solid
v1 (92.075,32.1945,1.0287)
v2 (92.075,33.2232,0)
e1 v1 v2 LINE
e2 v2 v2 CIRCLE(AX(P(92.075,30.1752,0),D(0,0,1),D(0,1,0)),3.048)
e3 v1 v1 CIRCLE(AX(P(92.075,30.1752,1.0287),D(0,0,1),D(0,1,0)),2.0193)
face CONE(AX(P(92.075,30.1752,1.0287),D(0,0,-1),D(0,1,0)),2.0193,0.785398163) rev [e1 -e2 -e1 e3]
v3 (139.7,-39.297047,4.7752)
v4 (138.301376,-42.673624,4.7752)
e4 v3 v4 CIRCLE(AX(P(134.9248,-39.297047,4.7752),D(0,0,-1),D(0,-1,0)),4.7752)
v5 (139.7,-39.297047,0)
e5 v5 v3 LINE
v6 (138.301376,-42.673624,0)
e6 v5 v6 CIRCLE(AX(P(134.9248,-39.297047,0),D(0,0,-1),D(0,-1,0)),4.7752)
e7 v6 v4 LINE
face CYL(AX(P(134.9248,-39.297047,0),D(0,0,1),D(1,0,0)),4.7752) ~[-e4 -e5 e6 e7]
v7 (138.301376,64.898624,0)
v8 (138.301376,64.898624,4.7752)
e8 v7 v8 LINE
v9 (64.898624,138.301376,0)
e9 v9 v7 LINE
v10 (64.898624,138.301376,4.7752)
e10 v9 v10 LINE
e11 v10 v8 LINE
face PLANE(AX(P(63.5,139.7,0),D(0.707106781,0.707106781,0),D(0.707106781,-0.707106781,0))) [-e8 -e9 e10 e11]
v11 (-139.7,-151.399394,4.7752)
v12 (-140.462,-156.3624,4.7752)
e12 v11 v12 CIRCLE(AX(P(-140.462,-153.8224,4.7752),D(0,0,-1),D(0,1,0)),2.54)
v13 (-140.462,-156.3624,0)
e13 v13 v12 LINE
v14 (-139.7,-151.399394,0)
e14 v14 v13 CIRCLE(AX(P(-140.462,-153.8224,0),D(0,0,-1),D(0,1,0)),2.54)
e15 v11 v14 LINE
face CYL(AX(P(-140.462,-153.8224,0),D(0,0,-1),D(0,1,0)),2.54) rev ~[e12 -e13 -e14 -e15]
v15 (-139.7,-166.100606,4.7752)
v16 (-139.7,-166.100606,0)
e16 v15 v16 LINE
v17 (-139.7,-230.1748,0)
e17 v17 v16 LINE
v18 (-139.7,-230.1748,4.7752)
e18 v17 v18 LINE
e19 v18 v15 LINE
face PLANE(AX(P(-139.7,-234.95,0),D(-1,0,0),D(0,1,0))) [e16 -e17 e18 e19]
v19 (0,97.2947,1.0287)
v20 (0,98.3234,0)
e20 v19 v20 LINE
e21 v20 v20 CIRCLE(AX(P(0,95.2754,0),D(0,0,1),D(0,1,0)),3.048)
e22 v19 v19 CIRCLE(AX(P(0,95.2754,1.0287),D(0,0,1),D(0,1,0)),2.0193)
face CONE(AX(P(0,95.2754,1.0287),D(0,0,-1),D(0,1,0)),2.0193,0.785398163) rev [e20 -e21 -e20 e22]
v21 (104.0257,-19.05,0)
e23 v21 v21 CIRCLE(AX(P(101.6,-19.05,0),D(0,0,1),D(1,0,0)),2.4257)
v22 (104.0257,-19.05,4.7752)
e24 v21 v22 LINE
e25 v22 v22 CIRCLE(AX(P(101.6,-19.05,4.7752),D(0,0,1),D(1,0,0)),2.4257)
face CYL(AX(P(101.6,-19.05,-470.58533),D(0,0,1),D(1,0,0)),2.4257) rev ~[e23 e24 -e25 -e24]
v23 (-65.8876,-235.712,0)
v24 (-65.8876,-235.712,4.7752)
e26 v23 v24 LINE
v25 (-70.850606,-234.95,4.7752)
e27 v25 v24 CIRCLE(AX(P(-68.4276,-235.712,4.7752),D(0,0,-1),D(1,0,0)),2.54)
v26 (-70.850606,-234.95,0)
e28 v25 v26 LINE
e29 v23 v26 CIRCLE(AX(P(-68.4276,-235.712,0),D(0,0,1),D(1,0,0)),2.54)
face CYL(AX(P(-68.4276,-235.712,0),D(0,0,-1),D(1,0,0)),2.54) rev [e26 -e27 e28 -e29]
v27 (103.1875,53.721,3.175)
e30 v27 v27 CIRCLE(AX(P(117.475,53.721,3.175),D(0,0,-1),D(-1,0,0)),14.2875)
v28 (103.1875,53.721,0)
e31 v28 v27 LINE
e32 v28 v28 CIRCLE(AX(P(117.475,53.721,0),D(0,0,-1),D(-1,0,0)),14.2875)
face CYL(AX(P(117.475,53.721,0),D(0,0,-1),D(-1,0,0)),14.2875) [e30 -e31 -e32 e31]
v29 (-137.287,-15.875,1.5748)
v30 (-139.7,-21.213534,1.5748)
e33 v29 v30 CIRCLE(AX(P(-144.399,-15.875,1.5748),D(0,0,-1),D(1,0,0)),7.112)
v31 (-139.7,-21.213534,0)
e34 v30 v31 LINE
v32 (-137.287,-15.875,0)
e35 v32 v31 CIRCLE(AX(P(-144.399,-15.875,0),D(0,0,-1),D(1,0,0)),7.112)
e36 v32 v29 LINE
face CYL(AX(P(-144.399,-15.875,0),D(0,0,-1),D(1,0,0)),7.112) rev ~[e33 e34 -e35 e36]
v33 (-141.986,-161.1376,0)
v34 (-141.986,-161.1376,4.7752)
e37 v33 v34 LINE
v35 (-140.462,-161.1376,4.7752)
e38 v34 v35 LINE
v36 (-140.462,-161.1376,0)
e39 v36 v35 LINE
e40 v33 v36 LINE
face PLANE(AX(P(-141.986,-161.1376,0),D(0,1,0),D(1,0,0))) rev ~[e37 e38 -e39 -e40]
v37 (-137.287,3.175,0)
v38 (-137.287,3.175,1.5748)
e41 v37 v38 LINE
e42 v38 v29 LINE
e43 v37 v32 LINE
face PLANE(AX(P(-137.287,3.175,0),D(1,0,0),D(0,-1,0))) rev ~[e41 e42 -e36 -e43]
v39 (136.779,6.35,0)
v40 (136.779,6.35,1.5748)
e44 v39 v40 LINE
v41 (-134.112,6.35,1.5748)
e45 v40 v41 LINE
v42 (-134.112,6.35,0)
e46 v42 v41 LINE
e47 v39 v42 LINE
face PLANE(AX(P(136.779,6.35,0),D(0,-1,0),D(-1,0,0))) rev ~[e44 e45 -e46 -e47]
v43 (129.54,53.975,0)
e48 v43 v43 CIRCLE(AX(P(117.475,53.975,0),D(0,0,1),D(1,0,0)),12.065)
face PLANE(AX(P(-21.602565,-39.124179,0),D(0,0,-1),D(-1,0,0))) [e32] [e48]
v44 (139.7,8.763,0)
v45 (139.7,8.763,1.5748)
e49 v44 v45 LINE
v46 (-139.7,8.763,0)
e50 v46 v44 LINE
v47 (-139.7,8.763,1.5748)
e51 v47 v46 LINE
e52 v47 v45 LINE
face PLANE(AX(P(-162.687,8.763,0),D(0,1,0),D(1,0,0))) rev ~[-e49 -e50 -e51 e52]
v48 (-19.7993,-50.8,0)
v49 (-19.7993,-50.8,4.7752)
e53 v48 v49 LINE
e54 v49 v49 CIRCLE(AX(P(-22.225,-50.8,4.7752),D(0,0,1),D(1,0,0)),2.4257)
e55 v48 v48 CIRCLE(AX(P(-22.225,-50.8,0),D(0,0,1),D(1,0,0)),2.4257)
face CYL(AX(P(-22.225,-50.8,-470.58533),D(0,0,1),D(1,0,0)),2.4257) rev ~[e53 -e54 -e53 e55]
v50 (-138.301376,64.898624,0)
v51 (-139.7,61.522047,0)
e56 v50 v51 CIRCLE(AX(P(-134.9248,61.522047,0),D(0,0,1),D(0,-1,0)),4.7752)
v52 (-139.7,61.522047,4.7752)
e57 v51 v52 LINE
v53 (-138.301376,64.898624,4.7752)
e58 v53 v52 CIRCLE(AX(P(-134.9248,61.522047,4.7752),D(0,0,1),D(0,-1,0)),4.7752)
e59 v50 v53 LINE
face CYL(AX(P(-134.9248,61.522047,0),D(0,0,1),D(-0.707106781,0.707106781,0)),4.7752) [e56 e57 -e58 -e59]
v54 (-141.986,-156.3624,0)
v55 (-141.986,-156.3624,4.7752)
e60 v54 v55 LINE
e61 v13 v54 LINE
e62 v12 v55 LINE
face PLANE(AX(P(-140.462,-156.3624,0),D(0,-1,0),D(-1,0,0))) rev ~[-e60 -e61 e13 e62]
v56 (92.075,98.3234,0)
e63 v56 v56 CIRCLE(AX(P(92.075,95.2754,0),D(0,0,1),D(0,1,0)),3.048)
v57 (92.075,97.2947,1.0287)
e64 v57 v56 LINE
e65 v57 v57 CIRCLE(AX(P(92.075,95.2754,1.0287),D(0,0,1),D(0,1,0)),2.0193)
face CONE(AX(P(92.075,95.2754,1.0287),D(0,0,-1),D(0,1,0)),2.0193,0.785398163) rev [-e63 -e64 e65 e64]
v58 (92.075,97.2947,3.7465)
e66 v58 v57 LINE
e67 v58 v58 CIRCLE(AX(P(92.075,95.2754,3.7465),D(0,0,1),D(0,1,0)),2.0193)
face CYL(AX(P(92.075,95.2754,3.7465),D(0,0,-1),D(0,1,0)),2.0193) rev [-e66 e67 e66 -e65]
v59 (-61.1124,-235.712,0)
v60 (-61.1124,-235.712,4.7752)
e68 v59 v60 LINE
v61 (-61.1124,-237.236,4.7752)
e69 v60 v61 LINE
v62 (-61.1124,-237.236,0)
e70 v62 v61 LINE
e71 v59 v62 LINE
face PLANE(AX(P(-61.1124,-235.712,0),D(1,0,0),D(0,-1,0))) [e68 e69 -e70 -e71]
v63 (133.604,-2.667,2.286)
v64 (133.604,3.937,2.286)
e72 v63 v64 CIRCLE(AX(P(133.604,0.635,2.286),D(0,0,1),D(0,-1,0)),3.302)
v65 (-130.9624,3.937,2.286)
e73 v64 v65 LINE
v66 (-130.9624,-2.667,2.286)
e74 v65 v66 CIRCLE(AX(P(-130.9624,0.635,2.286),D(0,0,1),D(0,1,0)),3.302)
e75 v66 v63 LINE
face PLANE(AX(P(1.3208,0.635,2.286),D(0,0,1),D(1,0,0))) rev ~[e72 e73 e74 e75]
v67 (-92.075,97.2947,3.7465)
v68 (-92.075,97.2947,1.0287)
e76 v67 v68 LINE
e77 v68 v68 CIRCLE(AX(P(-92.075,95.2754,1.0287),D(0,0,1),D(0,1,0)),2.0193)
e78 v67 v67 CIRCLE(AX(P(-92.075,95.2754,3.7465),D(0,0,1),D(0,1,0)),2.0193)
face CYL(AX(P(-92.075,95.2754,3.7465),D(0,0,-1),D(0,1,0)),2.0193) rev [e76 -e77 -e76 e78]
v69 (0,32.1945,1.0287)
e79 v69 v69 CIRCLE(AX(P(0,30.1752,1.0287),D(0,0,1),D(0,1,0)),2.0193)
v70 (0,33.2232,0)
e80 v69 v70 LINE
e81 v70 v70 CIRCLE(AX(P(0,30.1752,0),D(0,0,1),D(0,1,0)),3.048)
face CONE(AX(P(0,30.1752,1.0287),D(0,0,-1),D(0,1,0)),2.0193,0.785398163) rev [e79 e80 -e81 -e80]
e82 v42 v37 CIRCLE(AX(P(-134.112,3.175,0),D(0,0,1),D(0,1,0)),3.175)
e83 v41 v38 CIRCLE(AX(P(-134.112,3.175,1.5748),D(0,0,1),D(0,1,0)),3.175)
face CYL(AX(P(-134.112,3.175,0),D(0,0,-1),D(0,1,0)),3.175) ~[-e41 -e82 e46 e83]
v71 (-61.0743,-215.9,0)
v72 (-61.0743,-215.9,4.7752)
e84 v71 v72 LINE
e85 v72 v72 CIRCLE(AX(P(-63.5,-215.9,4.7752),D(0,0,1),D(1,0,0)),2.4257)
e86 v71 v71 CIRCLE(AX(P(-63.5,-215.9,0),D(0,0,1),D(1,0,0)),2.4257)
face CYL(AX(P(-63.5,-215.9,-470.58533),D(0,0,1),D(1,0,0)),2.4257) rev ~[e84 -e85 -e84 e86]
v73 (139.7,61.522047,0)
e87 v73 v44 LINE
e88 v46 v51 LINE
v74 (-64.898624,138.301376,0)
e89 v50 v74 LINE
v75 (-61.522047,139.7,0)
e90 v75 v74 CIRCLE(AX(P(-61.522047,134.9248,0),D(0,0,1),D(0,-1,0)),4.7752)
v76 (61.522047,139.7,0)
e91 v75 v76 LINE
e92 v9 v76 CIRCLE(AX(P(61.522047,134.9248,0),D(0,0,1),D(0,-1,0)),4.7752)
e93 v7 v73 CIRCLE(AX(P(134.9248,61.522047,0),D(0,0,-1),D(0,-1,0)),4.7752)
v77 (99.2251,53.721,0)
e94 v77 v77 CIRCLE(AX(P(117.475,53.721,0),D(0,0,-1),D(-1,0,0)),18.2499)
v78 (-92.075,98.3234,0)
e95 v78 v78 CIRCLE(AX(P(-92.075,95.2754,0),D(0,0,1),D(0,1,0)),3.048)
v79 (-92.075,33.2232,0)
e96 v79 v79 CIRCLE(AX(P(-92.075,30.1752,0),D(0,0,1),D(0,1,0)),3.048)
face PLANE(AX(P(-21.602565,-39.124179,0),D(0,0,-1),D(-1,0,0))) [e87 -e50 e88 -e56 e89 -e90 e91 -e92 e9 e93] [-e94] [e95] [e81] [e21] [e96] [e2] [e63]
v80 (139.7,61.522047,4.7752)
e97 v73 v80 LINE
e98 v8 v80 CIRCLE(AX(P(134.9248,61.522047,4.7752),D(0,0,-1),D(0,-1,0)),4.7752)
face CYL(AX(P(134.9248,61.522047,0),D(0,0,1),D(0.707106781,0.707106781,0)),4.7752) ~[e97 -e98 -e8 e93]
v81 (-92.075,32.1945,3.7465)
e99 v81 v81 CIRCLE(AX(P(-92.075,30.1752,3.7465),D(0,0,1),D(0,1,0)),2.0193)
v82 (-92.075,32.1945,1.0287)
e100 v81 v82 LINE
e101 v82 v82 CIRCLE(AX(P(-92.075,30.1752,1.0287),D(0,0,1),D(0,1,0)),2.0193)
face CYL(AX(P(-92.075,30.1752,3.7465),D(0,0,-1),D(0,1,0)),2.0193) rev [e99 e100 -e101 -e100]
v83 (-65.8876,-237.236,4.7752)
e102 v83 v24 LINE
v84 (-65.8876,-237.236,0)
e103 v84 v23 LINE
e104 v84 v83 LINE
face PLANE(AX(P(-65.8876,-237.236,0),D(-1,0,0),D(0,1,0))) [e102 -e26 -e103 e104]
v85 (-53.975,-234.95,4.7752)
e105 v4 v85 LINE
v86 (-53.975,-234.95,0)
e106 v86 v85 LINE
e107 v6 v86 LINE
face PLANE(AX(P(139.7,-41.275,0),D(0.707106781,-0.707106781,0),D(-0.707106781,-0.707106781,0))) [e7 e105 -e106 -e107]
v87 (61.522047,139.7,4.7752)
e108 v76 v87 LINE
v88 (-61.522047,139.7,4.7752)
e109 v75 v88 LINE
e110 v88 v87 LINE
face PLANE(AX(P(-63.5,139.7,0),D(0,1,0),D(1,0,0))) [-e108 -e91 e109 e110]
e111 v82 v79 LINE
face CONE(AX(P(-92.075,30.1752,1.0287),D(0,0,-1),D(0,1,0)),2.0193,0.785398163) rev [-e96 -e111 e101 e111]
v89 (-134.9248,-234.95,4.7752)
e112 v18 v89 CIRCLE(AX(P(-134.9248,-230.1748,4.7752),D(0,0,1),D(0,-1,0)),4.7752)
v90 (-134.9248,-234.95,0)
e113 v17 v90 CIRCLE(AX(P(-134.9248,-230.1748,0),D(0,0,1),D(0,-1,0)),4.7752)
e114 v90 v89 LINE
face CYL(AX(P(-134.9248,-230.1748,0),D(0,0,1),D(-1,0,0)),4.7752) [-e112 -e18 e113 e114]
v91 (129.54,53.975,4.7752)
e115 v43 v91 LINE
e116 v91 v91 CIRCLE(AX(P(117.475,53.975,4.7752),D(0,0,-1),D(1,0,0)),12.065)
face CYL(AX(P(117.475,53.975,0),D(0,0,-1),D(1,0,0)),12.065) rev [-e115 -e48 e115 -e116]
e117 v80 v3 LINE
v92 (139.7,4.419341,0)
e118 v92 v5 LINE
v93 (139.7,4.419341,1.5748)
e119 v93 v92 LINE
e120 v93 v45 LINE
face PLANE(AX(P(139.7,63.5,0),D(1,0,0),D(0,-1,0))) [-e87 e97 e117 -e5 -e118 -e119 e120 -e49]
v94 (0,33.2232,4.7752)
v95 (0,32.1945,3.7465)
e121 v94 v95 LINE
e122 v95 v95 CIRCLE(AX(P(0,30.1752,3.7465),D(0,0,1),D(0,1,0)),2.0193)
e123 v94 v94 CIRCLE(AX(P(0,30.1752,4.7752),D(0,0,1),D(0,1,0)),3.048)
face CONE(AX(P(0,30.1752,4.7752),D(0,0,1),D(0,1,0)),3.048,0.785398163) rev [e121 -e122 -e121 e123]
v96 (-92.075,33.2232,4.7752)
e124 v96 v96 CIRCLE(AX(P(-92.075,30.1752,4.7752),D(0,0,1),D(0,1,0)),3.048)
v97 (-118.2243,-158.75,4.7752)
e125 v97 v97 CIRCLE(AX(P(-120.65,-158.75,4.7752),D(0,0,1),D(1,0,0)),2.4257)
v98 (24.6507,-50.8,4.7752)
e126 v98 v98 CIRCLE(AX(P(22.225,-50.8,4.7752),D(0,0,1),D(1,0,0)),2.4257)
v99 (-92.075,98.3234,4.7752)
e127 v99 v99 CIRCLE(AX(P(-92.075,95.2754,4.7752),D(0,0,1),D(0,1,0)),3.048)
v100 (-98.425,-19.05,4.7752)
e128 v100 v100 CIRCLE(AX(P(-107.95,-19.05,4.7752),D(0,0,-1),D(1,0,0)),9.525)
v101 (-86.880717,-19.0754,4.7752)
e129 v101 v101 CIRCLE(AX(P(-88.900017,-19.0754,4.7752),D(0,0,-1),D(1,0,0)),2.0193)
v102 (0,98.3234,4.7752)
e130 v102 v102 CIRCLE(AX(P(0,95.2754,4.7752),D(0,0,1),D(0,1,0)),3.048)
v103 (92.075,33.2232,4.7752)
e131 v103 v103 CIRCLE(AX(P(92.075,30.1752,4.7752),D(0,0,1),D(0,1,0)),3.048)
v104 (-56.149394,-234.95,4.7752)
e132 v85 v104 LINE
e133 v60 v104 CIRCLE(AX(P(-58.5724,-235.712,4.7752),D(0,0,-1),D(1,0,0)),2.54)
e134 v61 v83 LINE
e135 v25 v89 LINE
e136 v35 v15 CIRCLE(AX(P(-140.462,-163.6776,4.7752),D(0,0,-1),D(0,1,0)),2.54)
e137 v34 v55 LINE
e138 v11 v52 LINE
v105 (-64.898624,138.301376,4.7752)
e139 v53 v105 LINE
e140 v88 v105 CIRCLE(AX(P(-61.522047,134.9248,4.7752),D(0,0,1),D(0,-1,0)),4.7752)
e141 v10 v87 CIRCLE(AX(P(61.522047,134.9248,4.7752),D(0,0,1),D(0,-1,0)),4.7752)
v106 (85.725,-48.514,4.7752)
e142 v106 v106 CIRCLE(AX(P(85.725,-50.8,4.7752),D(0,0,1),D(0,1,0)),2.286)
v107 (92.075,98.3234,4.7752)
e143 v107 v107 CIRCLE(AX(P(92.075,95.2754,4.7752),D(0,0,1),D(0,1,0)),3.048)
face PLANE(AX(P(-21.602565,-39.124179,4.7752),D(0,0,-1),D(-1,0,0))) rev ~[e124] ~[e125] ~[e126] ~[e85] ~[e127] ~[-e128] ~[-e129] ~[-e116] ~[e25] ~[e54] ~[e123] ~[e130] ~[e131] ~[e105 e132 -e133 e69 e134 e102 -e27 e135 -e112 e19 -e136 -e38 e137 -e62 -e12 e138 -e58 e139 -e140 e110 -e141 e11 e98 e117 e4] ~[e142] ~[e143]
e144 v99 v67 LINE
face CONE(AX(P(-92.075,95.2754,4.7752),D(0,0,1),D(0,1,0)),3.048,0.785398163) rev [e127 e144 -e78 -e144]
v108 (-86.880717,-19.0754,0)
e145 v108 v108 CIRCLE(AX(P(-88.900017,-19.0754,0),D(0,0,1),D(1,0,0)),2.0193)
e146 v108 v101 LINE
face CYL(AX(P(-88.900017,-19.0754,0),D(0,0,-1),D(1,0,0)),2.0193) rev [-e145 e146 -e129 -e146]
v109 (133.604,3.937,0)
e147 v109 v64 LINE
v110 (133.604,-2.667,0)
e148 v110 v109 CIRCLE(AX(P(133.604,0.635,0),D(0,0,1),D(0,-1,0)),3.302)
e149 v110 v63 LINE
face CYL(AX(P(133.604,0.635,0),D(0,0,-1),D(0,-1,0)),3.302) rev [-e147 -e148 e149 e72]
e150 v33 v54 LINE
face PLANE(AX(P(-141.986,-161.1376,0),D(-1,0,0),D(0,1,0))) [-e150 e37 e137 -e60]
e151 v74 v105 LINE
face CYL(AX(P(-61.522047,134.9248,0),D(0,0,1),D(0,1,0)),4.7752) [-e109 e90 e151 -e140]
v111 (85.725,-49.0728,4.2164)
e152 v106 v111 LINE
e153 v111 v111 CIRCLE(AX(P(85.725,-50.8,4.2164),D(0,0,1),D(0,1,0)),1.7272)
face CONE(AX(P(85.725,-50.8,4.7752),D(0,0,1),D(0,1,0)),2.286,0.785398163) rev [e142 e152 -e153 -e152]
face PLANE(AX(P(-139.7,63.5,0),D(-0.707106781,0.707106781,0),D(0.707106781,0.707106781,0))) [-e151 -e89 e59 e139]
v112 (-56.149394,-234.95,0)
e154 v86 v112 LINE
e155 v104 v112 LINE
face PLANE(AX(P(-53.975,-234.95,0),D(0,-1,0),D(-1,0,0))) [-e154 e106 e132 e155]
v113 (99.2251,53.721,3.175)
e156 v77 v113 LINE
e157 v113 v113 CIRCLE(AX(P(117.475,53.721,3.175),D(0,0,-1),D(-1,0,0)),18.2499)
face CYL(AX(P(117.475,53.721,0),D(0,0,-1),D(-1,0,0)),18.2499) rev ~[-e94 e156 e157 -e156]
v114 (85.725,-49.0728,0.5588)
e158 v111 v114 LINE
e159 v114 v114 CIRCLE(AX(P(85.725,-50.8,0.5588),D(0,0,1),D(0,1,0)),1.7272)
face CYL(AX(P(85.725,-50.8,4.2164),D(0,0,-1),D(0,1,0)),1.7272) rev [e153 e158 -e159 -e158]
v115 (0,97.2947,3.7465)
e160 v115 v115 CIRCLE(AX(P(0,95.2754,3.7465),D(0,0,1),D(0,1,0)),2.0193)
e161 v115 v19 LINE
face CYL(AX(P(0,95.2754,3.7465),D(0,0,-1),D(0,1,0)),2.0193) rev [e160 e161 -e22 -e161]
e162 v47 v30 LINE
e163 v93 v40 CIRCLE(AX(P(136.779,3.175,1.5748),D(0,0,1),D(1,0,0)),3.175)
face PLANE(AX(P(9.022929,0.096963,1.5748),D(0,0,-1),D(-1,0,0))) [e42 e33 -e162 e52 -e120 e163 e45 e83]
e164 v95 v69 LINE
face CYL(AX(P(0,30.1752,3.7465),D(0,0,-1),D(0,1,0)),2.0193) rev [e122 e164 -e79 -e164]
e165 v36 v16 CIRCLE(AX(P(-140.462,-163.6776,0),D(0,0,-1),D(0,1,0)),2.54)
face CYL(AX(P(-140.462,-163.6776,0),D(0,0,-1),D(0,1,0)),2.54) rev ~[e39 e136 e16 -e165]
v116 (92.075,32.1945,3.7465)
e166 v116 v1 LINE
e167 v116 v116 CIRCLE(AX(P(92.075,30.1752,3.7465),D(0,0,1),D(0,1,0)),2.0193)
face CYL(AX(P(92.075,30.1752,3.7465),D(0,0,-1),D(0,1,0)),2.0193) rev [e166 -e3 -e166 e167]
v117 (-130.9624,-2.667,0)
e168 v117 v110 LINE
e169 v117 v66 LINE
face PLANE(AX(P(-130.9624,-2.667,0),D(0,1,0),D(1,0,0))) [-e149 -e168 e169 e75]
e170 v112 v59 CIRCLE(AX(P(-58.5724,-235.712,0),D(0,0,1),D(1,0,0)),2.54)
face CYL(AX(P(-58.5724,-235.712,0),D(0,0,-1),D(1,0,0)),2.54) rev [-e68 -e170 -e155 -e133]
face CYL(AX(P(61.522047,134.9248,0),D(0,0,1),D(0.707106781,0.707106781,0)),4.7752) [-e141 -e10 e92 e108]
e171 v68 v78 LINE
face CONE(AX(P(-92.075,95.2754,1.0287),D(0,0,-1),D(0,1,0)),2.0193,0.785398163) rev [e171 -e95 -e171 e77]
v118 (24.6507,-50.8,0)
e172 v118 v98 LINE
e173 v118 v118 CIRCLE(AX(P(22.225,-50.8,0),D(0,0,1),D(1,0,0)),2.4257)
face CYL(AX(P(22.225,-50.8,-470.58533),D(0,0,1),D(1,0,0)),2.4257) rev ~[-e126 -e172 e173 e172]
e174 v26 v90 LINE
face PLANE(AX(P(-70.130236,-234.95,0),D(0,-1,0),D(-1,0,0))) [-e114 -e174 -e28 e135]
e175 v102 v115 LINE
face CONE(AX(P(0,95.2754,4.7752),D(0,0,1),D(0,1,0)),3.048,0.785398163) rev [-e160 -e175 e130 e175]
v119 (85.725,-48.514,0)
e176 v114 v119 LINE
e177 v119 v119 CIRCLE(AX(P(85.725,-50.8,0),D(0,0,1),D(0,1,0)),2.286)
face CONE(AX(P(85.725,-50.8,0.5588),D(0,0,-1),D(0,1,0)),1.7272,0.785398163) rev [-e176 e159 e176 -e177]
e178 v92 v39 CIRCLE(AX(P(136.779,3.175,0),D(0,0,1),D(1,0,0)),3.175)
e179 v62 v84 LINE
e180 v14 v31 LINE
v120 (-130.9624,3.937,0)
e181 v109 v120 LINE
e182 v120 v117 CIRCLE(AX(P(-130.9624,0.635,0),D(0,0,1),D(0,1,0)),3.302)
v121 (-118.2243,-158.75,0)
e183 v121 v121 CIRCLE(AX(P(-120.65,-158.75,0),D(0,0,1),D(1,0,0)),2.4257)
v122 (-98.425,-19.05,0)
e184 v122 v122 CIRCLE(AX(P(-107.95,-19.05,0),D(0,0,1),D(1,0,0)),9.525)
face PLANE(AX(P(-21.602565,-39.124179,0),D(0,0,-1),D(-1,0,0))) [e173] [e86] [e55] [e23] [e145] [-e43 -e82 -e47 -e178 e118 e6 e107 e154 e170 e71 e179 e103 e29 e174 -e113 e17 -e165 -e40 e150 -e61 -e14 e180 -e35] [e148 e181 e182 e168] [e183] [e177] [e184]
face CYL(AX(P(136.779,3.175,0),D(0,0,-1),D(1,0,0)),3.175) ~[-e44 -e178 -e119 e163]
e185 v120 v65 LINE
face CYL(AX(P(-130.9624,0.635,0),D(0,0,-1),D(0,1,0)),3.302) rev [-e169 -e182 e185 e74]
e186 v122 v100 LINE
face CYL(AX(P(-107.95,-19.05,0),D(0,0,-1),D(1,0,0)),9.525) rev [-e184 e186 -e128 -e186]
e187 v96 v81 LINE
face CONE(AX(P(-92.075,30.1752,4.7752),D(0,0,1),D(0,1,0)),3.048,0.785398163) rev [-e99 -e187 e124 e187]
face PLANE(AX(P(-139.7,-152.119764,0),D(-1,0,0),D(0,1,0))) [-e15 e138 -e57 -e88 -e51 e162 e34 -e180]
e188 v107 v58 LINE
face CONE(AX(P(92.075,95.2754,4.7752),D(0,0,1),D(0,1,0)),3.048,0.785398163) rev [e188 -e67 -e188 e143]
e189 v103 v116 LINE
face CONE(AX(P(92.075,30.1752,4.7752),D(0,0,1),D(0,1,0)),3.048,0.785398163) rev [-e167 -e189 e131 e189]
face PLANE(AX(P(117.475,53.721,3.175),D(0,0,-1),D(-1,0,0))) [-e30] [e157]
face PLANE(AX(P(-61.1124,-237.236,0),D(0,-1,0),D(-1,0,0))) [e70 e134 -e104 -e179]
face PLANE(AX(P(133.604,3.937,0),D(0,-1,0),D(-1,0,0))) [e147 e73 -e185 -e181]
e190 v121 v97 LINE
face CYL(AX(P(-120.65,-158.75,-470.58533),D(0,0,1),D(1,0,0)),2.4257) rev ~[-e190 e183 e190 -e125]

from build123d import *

# Parameters (mm, degrees)
BOSS_EXTRUDE1_DEPTH             = 4.7752
SKETCH5_R                       = 12.065
CE_00_TUBE_HOLE_DEPTH           = 277.520788418
F_10_32_TAPPED_HOLE1_AT_2_COUNT = 2
F_10_32_TAPPED_HOLE1_AT_2_PITCH = 65.1002
F_10_32_TAPPED_HOLE1_AT_3_COUNT = 2
F_10_32_TAPPED_HOLE1_AT_3_PITCH = 92.075
F_10_32_TAPPED_HOLE1_AT_4_COUNT = 2
F_10_32_TAPPED_HOLE1_AT_4_PITCH = 112.764540814
F_10_32_TAPPED_HOLE1_AT_5_COUNT = 2
F_10_32_TAPPED_HOLE1_AT_5_PITCH = 184.15
F_10_32_TAPPED_HOLE1_AT_6_COUNT = 2
F_10_32_TAPPED_HOLE1_AT_6_PITCH = 195.318351775
F_11_0_191_DIAMETER_HOLE1_D     = 4.8514
F_11_0_191_DIAMETER_HOLE2_D     = 4.8514
CE_00_SHELF_GROOVE_DEPTH        = 1.5748
CE_00_RELIEF_GROOVE_DEPTH       = 2.286
SKETCH18_R                      = 18.2499
SKETCH18_R_2                    = 14.2875
CE_00_TUBE_GASKET_GROOVE_DEPTH  = 3.175
CE_00_TABE_FEATURES_DEPTH       = 277.520788418
FILLET1_R                       = 4.7752
SKETCH22_R                      = 9.525
SKETCH22_R_2                    = 2.0193
CUT_EXTRUDE1_DEPTH              = 277.520788418


with BuildPart() as part:
    # Sketch1 → Boss-Extrude1 (new body)
    with BuildSketch(Plane.XY):
        with BuildLine():
            Line((63.5, 139.7), (139.7, 63.5))
            Line((139.7, 63.5), (139.7, -41.275))
            Line((139.7, -41.275), (-53.975, -234.95))
            Line((-53.975, -234.95), (-56.869763556, -234.95))
            ThreePointArc((-56.869763556, -234.95), (-59.279419133, -235.557868517), (-61.1124, -237.236))
            Line((-61.1124, -237.236), (-65.8876, -237.236))
            ThreePointArc((-65.8876, -237.236), (-67.720580867, -235.557868517), (-70.130236444, -234.95))
            Line((-70.130236444, -234.95), (-139.7, -234.95))
            Line((-139.7, -234.95), (-139.7, -165.380236444))
            ThreePointArc((-139.7, -165.380236444), (-140.307868517, -162.970580867), (-141.986, -161.1376))
            Line((-141.986, -161.1376), (-141.986, -156.3624))
            ThreePointArc((-141.986, -156.3624), (-140.307868517, -154.529419133), (-139.7, -152.119763556))
            Line((-139.7, -152.119763556), (-139.7, 63.5))
            Line((-139.7, 63.5), (-63.5, 139.7))
            Line((-63.5, 139.7), (63.5, 139.7))
        make_face()
    extrude(amount=BOSS_EXTRUDE1_DEPTH)

    # Sketch5 → CE-00 TUbe Hole (cut, through all)
    with BuildSketch(Plane.XY):
        with Locations((117.475, 53.975)):
            Circle(SKETCH5_R)
    extrude(amount=CE_00_TUBE_HOLE_DEPTH, mode=Mode.SUBTRACT)

    # Sketch6 → #10-32 Tapped Hole1 (revolve, cut)
    with BuildSketch(Plane(origin=(-92.075, 95.2754, 0), x_dir=(0, 1, 0), z_dir=(1, 0, 0))):
        Polygon((0, 0), (0, 4.7752), (3.048, 4.7752), (2.0193, 3.7465), (2.0193, 1.0287), (3.048, 0), align=None)
    f_10_32_tapped_hole1 = revolve(axis=Axis((-92.075, 95.2754, -6.35), (0, 0, 1)), mode=Mode.SUBTRACT)

    # #10-32 Tapped Hole1 at 2: #10-32 Tapped Hole1 ×2
    with Locations(*[(0, -i * F_10_32_TAPPED_HOLE1_AT_2_PITCH, 0) for i in range(1, F_10_32_TAPPED_HOLE1_AT_2_COUNT)]):
        add(f_10_32_tapped_hole1, mode=Mode.SUBTRACT)

    # #10-32 Tapped Hole1 at 3: #10-32 Tapped Hole1 ×2
    with Locations(*[(i * F_10_32_TAPPED_HOLE1_AT_3_PITCH, 0, 0) for i in range(1, F_10_32_TAPPED_HOLE1_AT_3_COUNT)]):
        add(f_10_32_tapped_hole1, mode=Mode.SUBTRACT)

    # #10-32 Tapped Hole1 at 4: #10-32 Tapped Hole1 ×2
    with Locations(*[Vector(0.8165244086055451, -0.5773109128982101, 0) * (i * F_10_32_TAPPED_HOLE1_AT_4_PITCH) for i in range(1, F_10_32_TAPPED_HOLE1_AT_4_COUNT)]):
        add(f_10_32_tapped_hole1, mode=Mode.SUBTRACT)

    # #10-32 Tapped Hole1 at 5: #10-32 Tapped Hole1 ×2
    with Locations(*[(i * F_10_32_TAPPED_HOLE1_AT_5_PITCH, 0, 0) for i in range(1, F_10_32_TAPPED_HOLE1_AT_5_COUNT)]):
        add(f_10_32_tapped_hole1, mode=Mode.SUBTRACT)

    # #10-32 Tapped Hole1 at 6: #10-32 Tapped Hole1 ×2
    with Locations(*[Vector(0.9428197520952135, -0.3333030378786251, 0) * (i * F_10_32_TAPPED_HOLE1_AT_6_PITCH) for i in range(1, F_10_32_TAPPED_HOLE1_AT_6_COUNT)]):
        add(f_10_32_tapped_hole1, mode=Mode.SUBTRACT)

    # #11 (0.191) Diameter Hole1 (through all)
    with Locations(Plane(origin=(0, 0, 0), x_dir=(-1, 0, 0), z_dir=(0, 0, -1))):
        with Locations((-22.225, -50.8), (22.225, -50.8)):
            Hole(F_11_0_191_DIAMETER_HOLE1_D / 2)

    # #11 (0.191) Diameter Hole2 (through all)
    with Locations(Plane(origin=(0, 0, 0), x_dir=(-1, 0, 0), z_dir=(0, 0, -1))):
        with Locations((101.6, -19.05), (120.65, -158.75), (63.5, -215.9), (-101.6, -19.05)):
            Hole(F_11_0_191_DIAMETER_HOLE2_D / 2)

    # Sketch20 → #8-32 Tapped Hole1 (revolve, cut)
    with BuildSketch(Plane(origin=(85.725, -50.8, 0), x_dir=(0, 1, 0), z_dir=(1, 0, 0))):
        Polygon((0, 0), (0, 4.7752), (2.286, 4.7752), (1.7272, 4.2164), (1.7272, 0.5588), (2.286, 0), align=None)
    revolve(axis=Axis((85.725, -50.8, -6.35), (0, 0, 1)), mode=Mode.SUBTRACT)

    # Sketch10 → CE-00 Shelf Groove (cut)
    with BuildSketch(Plane.XY):
        with BuildLine():
            Line((-162.687, 8.763), (158.242, 8.763))
            Line((158.242, 8.763), (158.242, -51.188217219))
            Line((158.242, -51.188217219), (139.954, -51.188217219))
            Line((139.954, -51.188217219), (139.954, 3.175))
            ThreePointArc((139.954, 3.175), (139.02406403, 5.42006403), (136.779, 6.35))
            Line((136.779, 6.35), (-134.112, 6.35))
            ThreePointArc((-134.112, 6.35), (-136.35706403, 5.42006403), (-137.287, 3.175))
            Line((-137.287, 3.175), (-137.287, -15.875))
            ThreePointArc((-137.287, -15.875), (-139.370056572, -20.903943428), (-144.399, -22.987))
            Line((-144.399, -22.987), (-162.687, -22.987))
            Line((-162.687, -22.987), (-162.687, 8.763))
        make_face()
    extrude(amount=CE_00_SHELF_GROOVE_DEPTH, mode=Mode.SUBTRACT)

    # Sketch17 → CE-00 Relief Groove (cut)
    with BuildSketch(Plane(origin=(0, 0, 0), x_dir=(-1, 0, 0), z_dir=(0, 0, -1))):
        with BuildLine():
            Line((130.9624, -2.667), (-133.604, -2.667))
            ThreePointArc((-133.604, -2.667), (-136.906, 0.635), (-133.604, 3.937))
            Line((-133.604, 3.937), (130.9624, 3.937))
            ThreePointArc((130.9624, 3.937), (134.2644, 0.635), (130.9624, -2.667))
        make_face()
    extrude(amount=-CE_00_RELIEF_GROOVE_DEPTH, mode=Mode.SUBTRACT)

    # Sketch18 → CE-00 Tube Gasket Groove (cut)
    with BuildSketch(Plane(origin=(0, 0, 0), x_dir=(-1, 0, 0), z_dir=(0, 0, -1))):
        with Locations((-117.475, 53.721)):
            Circle(SKETCH18_R)
        with Locations((-117.475, 53.721)):
            Circle(SKETCH18_R_2, mode=Mode.SUBTRACT)
    extrude(amount=-CE_00_TUBE_GASKET_GROOVE_DEPTH, mode=Mode.SUBTRACT)

    # Sketch19 → CE-00 Tabe Features (cut, through all)
    with BuildSketch(Plane.XY):
        with BuildLine():
            Line((-141.986, -156.3624), (-141.986, -161.1376))
            Line((-141.986, -161.1376), (-140.462, -161.1376))
            ThreePointArc((-140.462, -161.1376), (-137.922, -163.6776), (-140.462, -166.2176))
            Line((-140.462, -166.2176), (-144.526, -166.2176))
            Line((-144.526, -166.2176), (-144.526, -151.2824))
            Line((-144.526, -151.2824), (-140.462, -151.2824))
            ThreePointArc((-140.462, -151.2824), (-137.922, -153.8224), (-140.462, -156.3624))
            Line((-140.462, -156.3624), (-141.986, -156.3624))
        make_face()
        with BuildLine():
            Line((-61.1124, -237.236), (-65.8876, -237.236))
            Line((-65.8876, -237.236), (-65.8876, -235.712))
            ThreePointArc((-65.8876, -235.712), (-68.4276, -233.172), (-70.9676, -235.712))
            Line((-70.9676, -235.712), (-70.9676, -244.467339737))
            Line((-70.9676, -244.467339737), (-56.0324, -244.467339737))
            Line((-56.0324, -244.467339737), (-56.0324, -235.712))
            ThreePointArc((-56.0324, -235.712), (-58.5724, -233.172), (-61.1124, -235.712))
            Line((-61.1124, -235.712), (-61.1124, -237.236))
        make_face()
    extrude(amount=CE_00_TABE_FEATURES_DEPTH, mode=Mode.SUBTRACT)

    # Fillet1
    fillet1_edges = [part.edges().sort_by_distance(p)[0] for p in [
        (-139.7, -234.95, 2.3876),
        (-139.7, 63.5, 2.3876),
        (-63.5, 139.7, 2.3876),
        (63.5, 139.7, 2.3876),
        (139.7, 63.5, 2.3876),
        (139.7, -41.275, 2.3876),
    ]]
    fillet(fillet1_edges, radius=FILLET1_R)

    # Sketch22 → Cut-Extrude1 (cut, through all)
    with BuildSketch(Plane.XY):
        with Locations((-107.95, -19.05)):
            Circle(SKETCH22_R)
        with Locations((-88.900016933, -19.0754)):
            Circle(SKETCH22_R_2)
    extrude(amount=CUT_EXTRUDE1_DEPTH, mode=Mode.SUBTRACT)


solid = part.part
